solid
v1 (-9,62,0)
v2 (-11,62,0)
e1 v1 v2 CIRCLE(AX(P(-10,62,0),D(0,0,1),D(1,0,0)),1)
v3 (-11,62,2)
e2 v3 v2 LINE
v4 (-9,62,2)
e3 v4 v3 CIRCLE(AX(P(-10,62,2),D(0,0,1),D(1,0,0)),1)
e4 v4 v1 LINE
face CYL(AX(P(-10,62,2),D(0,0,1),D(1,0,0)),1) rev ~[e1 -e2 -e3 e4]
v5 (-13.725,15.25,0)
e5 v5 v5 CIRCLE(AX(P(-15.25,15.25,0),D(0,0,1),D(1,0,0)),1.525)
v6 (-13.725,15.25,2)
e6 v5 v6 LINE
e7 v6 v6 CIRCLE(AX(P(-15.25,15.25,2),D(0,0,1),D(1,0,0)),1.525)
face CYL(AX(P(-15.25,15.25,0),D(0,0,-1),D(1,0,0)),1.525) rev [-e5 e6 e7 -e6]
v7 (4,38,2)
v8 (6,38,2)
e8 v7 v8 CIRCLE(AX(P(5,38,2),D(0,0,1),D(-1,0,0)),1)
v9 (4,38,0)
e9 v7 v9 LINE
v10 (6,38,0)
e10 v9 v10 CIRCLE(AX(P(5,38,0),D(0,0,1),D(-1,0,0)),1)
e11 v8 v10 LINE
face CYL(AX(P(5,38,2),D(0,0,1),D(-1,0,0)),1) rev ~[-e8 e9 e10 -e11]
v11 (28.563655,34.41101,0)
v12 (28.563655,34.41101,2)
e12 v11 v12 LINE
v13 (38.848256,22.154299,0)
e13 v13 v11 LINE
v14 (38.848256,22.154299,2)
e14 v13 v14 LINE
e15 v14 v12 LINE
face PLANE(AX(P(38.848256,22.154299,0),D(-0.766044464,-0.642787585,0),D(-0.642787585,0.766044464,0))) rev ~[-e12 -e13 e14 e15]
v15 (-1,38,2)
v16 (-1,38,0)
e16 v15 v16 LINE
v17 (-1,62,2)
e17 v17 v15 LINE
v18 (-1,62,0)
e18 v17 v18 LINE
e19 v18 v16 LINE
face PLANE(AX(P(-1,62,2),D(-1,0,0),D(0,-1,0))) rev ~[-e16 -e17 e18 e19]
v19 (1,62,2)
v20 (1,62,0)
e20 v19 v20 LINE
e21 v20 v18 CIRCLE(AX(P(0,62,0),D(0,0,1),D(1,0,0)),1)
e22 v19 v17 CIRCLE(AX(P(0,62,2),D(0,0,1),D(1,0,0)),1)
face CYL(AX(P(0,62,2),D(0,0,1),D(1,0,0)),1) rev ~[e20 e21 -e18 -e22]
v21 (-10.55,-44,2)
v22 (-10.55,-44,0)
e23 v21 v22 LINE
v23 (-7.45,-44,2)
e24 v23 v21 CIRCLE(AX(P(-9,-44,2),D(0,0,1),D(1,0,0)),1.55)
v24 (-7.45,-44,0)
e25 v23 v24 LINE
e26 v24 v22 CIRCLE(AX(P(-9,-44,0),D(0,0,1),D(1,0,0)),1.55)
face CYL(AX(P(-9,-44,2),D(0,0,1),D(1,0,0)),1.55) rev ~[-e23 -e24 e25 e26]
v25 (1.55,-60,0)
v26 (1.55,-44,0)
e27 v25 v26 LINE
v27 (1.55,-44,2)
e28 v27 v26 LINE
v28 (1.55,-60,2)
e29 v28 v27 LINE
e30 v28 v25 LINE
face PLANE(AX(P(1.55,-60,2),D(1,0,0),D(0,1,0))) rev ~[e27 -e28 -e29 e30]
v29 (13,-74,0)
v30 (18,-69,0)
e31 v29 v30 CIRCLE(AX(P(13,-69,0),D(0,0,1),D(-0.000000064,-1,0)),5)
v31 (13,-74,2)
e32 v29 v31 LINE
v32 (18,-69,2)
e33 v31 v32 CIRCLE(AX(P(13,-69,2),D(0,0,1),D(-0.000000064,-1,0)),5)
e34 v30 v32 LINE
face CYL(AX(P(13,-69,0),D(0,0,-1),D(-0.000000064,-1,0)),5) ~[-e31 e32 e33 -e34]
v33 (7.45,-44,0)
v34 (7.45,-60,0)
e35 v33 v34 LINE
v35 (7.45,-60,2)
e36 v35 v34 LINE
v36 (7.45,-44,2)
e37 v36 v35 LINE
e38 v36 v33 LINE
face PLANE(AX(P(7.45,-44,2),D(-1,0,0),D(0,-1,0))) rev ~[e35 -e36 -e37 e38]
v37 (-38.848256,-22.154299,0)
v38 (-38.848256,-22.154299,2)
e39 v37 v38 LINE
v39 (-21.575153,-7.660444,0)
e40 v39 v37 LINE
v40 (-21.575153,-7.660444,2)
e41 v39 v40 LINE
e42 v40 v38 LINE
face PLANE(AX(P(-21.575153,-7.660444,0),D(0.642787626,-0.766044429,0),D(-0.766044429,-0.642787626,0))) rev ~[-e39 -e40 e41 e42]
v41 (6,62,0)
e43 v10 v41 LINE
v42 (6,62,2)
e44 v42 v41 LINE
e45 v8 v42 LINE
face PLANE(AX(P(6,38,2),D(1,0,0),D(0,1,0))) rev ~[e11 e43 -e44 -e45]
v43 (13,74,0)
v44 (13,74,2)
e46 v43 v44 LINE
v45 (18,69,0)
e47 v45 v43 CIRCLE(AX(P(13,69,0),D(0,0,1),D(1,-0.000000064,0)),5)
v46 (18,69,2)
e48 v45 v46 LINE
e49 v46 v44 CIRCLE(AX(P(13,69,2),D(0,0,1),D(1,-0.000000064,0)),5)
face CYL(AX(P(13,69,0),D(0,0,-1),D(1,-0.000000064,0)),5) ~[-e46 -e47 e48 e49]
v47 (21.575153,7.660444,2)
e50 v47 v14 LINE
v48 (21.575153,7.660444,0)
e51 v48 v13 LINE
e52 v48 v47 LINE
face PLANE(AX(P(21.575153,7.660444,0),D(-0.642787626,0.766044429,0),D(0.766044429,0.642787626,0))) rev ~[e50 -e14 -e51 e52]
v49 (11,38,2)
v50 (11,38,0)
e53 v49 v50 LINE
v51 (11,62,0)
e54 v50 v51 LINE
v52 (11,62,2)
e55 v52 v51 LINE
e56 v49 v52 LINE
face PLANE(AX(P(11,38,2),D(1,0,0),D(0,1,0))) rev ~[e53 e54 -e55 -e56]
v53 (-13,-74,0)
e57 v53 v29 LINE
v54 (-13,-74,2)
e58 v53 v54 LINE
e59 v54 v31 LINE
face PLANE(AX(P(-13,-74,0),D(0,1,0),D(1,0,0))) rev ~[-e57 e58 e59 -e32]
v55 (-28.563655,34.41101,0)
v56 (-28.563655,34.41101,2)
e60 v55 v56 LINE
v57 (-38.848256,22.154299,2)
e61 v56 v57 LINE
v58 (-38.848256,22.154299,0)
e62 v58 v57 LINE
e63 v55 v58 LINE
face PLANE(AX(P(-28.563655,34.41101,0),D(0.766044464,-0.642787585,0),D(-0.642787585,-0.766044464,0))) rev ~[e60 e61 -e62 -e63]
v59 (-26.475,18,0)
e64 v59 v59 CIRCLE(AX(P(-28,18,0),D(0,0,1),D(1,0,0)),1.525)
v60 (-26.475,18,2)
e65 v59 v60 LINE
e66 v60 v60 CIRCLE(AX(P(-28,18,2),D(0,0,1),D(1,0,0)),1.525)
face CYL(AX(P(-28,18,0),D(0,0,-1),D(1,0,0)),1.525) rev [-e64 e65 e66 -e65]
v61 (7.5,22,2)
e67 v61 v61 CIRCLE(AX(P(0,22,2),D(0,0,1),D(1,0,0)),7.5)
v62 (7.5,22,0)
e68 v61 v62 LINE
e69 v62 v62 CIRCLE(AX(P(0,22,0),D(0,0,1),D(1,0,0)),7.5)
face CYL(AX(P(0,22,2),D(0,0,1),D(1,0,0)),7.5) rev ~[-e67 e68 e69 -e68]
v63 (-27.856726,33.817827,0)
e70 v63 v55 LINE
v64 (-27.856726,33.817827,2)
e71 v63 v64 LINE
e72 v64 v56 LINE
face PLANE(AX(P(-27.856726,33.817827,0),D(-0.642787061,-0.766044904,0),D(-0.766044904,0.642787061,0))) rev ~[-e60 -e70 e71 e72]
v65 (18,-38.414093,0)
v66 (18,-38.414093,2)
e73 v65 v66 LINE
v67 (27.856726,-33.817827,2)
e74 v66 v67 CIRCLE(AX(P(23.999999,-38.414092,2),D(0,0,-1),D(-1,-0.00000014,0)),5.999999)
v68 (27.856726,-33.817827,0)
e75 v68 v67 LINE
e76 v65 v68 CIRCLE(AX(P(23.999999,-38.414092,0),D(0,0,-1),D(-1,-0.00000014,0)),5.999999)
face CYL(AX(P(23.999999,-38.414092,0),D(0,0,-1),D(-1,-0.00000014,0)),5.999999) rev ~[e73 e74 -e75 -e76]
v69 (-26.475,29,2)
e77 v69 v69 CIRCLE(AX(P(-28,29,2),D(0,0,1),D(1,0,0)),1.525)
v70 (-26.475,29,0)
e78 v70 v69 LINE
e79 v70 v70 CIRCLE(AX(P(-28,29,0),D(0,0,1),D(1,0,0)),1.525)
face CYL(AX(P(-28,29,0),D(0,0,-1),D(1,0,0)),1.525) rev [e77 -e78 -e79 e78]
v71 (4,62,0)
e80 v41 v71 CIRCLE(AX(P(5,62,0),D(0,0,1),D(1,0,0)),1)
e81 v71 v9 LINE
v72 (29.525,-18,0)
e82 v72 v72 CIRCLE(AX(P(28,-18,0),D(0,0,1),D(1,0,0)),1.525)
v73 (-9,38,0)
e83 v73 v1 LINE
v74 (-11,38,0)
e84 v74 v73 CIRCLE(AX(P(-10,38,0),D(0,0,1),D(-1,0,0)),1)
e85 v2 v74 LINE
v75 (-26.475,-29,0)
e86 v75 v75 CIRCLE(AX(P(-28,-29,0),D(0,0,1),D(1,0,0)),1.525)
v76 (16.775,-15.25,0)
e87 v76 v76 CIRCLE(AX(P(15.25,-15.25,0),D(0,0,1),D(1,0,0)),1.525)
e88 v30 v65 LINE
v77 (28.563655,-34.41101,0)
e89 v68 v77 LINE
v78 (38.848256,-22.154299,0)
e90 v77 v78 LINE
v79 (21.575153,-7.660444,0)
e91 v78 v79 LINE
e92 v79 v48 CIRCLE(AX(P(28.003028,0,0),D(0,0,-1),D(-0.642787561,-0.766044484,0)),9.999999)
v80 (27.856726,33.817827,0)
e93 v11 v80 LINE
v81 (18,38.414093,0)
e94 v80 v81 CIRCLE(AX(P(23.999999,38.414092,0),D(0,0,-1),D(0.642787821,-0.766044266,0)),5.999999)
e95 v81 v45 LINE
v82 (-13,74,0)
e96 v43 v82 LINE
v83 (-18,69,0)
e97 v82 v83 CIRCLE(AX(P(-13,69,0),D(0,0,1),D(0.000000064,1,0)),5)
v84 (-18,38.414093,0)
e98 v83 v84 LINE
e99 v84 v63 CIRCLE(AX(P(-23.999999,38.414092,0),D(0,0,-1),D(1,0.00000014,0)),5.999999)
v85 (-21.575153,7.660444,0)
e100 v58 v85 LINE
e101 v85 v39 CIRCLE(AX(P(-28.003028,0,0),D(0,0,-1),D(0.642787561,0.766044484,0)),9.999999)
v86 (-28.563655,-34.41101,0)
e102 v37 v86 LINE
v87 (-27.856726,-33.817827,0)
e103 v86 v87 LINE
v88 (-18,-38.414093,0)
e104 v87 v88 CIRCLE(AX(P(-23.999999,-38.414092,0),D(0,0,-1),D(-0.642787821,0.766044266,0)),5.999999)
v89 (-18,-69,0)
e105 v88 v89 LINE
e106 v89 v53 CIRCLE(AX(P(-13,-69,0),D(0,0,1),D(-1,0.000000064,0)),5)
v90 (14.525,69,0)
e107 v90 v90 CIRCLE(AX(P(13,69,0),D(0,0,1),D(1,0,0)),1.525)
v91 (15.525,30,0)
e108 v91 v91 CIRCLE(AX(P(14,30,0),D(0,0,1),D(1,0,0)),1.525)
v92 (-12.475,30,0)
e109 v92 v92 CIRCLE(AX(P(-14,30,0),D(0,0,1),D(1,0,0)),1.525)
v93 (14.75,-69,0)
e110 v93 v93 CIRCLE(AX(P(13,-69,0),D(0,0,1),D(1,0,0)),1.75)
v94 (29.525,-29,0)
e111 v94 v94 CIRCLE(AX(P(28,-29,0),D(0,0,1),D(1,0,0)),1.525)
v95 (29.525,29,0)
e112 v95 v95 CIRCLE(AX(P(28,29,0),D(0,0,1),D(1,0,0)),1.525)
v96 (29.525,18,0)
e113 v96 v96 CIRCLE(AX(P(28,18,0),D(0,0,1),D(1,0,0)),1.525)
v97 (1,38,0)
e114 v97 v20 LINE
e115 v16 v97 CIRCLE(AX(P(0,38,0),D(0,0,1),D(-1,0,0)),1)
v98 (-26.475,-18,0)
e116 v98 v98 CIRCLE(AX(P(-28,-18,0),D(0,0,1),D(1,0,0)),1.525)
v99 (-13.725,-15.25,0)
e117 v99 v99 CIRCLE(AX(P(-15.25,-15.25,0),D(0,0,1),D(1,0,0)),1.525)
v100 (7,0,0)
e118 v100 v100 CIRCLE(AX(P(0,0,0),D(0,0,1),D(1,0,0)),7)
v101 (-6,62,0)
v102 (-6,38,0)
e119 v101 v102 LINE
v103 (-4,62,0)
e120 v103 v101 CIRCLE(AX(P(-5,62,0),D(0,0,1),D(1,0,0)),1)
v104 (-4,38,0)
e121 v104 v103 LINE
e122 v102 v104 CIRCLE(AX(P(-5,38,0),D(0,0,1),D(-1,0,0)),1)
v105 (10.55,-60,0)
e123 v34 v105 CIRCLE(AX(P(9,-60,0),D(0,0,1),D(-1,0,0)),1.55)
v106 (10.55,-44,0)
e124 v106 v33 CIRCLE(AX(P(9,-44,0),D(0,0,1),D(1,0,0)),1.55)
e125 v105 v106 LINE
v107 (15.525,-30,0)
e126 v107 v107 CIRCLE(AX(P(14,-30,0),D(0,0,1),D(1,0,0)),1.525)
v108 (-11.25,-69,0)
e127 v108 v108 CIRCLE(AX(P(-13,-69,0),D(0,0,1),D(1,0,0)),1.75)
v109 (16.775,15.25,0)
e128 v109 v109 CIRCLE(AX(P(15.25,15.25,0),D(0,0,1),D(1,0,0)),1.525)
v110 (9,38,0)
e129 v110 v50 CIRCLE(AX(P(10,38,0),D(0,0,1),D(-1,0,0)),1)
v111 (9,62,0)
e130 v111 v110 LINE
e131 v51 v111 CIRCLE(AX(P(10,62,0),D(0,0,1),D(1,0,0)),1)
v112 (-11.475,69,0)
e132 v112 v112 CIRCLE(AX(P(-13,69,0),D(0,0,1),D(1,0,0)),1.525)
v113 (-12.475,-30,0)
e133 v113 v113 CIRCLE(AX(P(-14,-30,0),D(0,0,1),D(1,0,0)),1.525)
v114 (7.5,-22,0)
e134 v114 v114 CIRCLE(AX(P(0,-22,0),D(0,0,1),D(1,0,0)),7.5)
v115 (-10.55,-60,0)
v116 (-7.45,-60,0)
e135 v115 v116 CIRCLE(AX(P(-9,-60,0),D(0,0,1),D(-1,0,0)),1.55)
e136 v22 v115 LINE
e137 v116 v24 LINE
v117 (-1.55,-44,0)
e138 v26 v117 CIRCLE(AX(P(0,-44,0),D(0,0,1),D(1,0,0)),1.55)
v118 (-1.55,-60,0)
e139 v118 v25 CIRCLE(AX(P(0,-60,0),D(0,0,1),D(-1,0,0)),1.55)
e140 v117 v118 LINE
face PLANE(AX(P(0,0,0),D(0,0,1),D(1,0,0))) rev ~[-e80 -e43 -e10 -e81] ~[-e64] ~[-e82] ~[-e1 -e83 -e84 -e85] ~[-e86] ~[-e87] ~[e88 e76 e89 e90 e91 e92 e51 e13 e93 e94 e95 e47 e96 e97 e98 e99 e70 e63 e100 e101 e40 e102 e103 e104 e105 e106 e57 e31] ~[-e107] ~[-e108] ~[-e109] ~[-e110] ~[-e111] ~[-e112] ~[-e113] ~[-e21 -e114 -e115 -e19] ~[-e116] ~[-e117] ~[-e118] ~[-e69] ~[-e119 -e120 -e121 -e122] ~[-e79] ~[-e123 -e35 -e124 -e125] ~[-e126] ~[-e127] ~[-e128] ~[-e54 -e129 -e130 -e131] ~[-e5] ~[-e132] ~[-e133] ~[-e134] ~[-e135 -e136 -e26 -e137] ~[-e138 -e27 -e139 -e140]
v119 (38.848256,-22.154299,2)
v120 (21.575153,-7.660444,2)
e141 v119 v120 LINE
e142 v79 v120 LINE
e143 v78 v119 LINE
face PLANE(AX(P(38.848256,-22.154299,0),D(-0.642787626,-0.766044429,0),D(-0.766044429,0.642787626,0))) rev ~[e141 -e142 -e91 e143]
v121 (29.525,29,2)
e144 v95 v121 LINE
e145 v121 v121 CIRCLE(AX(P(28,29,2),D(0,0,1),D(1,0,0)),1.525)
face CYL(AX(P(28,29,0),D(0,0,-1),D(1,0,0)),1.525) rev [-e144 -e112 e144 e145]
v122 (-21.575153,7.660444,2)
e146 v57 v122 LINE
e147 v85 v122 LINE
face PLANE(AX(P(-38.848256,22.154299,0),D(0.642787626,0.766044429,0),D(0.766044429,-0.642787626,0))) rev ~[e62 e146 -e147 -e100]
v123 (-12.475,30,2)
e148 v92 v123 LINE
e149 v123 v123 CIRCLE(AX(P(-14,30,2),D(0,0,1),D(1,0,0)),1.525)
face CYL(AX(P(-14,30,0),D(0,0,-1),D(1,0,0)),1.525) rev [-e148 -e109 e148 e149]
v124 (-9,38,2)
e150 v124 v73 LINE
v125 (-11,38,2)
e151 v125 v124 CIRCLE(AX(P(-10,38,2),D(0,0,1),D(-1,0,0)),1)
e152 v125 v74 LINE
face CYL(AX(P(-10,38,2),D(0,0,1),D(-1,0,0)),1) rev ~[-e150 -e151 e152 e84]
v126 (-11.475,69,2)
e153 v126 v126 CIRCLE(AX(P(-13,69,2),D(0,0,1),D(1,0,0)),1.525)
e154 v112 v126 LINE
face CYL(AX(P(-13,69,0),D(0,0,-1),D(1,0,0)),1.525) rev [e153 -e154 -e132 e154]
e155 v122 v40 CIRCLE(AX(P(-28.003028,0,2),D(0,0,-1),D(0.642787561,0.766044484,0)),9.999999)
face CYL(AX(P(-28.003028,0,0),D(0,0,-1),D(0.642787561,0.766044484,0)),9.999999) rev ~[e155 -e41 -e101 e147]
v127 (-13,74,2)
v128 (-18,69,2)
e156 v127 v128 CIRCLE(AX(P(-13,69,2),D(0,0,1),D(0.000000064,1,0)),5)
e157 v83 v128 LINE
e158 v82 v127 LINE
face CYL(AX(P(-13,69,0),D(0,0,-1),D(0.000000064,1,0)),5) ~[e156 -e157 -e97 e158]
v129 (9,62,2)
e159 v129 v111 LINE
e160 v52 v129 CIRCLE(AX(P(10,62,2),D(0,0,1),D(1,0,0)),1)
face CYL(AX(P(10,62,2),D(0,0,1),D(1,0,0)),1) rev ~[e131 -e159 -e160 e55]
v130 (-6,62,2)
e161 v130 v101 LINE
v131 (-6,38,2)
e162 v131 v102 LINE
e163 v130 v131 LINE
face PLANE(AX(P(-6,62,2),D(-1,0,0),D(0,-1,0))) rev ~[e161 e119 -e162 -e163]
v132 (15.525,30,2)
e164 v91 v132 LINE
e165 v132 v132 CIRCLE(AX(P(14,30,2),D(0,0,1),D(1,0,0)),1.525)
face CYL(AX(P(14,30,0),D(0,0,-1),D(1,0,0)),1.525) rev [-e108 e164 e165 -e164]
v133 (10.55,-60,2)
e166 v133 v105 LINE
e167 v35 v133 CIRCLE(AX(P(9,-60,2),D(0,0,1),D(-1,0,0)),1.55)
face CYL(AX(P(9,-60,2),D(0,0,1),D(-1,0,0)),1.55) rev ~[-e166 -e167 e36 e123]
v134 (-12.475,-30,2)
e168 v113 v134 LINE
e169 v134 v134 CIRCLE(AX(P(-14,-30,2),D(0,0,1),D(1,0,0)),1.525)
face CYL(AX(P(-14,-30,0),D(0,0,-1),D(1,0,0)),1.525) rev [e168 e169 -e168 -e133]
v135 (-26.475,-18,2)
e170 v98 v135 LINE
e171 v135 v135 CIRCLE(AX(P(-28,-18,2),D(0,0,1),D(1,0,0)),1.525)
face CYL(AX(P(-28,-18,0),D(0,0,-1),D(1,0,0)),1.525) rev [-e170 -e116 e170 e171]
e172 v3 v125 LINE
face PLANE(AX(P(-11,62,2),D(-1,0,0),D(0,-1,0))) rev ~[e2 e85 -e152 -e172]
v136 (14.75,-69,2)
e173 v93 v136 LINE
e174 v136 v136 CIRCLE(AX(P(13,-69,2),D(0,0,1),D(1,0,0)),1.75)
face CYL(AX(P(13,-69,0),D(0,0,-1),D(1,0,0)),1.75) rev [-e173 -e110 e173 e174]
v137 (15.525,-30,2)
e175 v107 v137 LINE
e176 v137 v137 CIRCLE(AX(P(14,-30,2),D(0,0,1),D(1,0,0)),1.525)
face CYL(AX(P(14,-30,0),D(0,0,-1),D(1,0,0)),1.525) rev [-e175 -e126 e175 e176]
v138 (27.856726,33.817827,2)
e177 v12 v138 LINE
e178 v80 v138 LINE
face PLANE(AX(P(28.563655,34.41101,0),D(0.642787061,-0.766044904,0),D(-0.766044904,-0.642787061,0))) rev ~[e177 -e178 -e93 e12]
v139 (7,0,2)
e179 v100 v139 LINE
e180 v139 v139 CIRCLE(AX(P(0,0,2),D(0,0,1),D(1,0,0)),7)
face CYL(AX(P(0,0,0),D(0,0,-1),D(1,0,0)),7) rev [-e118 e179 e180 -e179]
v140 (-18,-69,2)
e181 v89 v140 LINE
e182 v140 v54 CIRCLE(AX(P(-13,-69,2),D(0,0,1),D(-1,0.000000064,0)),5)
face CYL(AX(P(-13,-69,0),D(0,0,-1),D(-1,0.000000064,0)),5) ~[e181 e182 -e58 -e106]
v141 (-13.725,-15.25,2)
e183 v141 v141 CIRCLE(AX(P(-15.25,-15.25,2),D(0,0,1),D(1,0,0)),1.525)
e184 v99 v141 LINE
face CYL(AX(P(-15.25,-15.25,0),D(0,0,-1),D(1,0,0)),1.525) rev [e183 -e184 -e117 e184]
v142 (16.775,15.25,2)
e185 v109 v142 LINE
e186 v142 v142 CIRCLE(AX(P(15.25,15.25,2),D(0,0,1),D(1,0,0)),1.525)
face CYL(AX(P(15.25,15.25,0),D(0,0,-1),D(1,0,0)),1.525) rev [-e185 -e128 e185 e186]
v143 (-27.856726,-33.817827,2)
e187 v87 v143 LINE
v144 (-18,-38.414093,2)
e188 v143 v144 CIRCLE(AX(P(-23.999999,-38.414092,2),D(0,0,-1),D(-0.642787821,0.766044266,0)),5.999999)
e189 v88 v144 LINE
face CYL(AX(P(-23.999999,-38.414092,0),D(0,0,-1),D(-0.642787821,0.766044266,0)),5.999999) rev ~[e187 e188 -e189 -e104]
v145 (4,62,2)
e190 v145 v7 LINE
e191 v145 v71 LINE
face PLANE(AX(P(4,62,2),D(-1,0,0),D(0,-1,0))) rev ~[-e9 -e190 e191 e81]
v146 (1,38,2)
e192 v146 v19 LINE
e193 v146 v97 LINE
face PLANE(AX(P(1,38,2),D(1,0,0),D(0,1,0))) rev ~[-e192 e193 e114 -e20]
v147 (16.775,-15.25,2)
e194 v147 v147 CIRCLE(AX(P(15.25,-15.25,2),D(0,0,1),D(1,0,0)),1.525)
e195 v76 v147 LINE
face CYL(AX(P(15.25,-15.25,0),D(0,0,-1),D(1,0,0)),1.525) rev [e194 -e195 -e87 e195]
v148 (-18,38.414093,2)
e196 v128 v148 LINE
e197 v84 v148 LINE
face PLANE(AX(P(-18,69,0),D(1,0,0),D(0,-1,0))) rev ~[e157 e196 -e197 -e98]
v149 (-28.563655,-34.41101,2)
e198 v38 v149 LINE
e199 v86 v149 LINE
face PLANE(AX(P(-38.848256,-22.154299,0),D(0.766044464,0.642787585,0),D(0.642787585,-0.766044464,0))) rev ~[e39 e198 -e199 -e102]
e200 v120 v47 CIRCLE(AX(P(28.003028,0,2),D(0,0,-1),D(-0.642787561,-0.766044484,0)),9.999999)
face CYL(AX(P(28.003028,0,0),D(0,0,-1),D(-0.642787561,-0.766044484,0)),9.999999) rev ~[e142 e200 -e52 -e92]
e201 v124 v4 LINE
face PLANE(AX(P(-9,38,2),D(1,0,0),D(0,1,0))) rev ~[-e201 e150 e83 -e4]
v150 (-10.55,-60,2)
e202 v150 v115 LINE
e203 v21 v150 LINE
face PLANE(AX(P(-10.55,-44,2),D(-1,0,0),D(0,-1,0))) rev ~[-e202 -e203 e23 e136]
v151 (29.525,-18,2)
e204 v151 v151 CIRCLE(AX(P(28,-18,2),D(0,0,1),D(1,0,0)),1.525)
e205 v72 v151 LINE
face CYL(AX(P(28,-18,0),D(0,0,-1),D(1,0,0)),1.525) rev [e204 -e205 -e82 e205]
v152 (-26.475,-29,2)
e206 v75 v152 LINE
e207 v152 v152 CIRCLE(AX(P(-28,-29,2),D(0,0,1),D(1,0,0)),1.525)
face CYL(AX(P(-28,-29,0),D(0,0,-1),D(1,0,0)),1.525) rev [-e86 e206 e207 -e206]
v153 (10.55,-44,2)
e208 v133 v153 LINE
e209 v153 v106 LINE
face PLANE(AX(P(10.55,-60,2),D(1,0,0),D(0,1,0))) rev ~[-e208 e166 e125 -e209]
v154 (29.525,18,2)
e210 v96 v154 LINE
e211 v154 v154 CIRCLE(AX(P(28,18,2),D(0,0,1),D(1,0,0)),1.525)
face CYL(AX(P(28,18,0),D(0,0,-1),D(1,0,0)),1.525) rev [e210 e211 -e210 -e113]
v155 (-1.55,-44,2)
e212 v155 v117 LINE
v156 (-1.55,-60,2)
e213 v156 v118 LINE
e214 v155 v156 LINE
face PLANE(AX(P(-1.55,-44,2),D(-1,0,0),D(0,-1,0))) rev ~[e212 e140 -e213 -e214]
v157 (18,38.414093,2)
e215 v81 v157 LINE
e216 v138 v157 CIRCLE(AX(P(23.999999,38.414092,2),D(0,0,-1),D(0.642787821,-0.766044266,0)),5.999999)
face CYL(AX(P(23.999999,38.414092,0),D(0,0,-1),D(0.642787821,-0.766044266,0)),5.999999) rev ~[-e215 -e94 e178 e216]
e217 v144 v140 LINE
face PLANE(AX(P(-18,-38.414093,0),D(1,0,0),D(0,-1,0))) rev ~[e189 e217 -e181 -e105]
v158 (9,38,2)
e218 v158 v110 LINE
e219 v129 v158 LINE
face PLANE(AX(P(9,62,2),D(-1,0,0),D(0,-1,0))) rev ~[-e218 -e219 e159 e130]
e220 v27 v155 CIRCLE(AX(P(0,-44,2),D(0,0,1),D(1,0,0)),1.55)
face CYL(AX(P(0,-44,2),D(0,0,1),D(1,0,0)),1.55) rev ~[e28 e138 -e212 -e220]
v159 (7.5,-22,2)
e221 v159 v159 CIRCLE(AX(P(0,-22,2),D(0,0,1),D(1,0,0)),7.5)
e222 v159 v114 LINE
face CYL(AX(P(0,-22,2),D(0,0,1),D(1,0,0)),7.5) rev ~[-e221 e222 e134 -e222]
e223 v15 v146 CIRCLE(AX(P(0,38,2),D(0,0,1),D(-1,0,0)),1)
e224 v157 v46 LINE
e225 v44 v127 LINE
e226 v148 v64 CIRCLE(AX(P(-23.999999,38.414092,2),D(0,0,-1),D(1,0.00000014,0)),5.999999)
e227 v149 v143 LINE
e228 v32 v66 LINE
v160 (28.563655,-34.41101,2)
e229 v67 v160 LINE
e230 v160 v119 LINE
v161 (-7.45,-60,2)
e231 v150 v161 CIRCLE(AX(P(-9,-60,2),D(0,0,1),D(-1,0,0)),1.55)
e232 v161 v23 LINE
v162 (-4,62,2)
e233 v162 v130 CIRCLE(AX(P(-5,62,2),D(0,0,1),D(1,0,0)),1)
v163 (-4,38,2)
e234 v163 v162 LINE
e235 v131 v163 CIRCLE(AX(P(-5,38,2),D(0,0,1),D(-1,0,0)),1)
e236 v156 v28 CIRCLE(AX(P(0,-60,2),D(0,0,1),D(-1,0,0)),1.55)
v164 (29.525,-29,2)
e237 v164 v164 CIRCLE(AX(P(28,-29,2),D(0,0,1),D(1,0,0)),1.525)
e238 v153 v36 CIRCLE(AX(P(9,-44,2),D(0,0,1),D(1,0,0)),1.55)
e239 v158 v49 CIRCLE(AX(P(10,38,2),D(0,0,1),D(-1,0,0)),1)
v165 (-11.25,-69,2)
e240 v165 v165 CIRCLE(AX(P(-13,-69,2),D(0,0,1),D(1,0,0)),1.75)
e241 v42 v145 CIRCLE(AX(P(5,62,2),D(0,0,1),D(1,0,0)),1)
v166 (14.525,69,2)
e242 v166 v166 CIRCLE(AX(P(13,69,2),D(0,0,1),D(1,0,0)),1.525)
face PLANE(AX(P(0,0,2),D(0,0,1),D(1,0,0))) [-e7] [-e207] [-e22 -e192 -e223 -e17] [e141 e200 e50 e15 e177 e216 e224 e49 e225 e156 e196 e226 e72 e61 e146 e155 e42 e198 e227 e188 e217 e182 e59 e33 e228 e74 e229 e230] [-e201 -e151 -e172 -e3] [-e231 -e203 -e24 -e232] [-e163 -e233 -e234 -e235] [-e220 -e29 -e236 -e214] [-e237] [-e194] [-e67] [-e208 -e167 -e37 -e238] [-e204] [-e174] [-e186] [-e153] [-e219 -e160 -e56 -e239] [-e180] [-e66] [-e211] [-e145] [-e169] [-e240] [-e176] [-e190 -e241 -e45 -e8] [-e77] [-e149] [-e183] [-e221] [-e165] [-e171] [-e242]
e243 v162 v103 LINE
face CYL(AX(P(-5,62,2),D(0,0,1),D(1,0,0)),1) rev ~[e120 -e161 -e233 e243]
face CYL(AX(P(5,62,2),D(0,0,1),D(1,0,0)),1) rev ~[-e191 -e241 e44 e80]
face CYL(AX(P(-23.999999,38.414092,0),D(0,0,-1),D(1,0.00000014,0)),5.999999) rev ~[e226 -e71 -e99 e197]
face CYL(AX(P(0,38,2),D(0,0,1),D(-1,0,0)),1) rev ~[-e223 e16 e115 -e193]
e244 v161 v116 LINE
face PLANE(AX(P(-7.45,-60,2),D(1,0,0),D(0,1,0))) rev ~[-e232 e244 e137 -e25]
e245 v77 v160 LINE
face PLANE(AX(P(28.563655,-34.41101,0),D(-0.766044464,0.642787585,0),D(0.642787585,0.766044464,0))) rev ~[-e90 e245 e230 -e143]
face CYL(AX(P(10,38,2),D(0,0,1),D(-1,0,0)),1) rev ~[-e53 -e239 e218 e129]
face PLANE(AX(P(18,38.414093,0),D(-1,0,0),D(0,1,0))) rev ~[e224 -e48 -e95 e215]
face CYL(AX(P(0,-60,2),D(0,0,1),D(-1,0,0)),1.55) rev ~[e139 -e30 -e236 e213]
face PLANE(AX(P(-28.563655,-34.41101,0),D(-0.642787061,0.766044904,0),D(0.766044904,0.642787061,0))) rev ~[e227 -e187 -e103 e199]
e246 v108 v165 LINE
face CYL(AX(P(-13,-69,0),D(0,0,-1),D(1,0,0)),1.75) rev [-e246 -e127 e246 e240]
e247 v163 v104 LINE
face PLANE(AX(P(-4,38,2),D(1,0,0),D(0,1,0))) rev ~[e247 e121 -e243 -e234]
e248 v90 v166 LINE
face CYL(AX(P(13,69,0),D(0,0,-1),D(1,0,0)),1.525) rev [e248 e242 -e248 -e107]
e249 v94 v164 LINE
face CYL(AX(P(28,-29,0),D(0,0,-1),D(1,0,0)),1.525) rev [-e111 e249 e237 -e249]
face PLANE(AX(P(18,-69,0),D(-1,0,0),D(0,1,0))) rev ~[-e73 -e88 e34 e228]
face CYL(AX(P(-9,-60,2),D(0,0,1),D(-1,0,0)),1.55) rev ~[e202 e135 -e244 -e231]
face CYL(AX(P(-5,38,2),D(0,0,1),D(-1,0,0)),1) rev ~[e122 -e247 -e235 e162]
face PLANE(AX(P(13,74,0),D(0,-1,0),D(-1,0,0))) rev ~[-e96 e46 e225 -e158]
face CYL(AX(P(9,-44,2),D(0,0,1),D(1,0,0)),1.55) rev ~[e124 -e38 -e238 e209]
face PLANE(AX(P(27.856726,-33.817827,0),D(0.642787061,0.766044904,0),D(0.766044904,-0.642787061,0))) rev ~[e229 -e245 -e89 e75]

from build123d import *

# Parameters (mm, degrees)
F0_R     = 1.75
F0_R_2   = 1.525
F0_R_3   = 7
F1_DEPTH = 2
F2_R     = 7.5
F3_DEPTH = 25


with BuildPart() as f1:
    # F0 (on Top) → F1 (new body)
    with BuildSketch(Plane.XY):
        with BuildLine():
            Line((-27.856726, 33.817827), (-28.563655, 34.41101))
            Line((-28.563655, 34.41101), (-38.848256, 22.154299))
            Line((-38.848256, 22.154299), (-21.575153, 7.660444))
            ThreePointArc((-21.575153, 7.660444), (-18.003029, 0), (-21.575153, -7.660444))
            Line((-21.575153, -7.660444), (-38.848256, -22.154299))
            Line((-38.848256, -22.154299), (-28.563655, -34.41101))
            Line((-28.563655, -34.41101), (-27.856726, -33.817827))
            ThreePointArc((-27.856726, -33.817827), (-21.46429, -32.976246), (-18, -38.414093))
            Line((-18, -38.414093), (-18, -69))
            ThreePointArc((-18, -69), (-16.535534, -72.535534), (-13, -74))
            Line((-13, -74), (0, -74))
            Line((0, -74), (13, -74))
            ThreePointArc((13, -74), (16.535534, -72.535534), (18, -69))
            Line((18, -69), (18, -38.414093))
            ThreePointArc((18, -38.414093), (21.46429, -32.976246), (27.856726, -33.817827))
            Line((27.856726, -33.817827), (28.563655, -34.41101))
            Line((28.563655, -34.41101), (38.848256, -22.154299))
            Line((38.848256, -22.154299), (21.575153, -7.660444))
            ThreePointArc((21.575153, -7.660444), (18.003029, 0), (21.575153, 7.660444))
            Line((21.575153, 7.660444), (38.848256, 22.154299))
            Line((38.848256, 22.154299), (28.563655, 34.41101))
            Line((28.563655, 34.41101), (27.856726, 33.817827))
            ThreePointArc((27.856726, 33.817827), (21.46429, 32.976246), (18, 38.414093))
            Line((18, 38.414093), (18, 69))
            ThreePointArc((18, 69), (16.535534, 72.535534), (13, 74))
            Line((13, 74), (0, 74))
            Line((0, 74), (-13, 74))
            ThreePointArc((-13, 74), (-16.535534, 72.535534), (-18, 69))
            Line((-18, 69), (-18, 38.414093))
            ThreePointArc((-18, 38.414093), (-21.46429, 32.976246), (-27.856726, 33.817827))
        make_face()
        with Locations((-13, -69)):
            Circle(F0_R, mode=Mode.SUBTRACT)
        with Locations((-28, -29)):
            Circle(F0_R_2, mode=Mode.SUBTRACT)
        with Locations((-28, -18)):
            Circle(F0_R_2, mode=Mode.SUBTRACT)
        with Locations((-14, -30)):
            Circle(F0_R_2, mode=Mode.SUBTRACT)
        with Locations((-15.25, -15.25)):
            Circle(F0_R_2, mode=Mode.SUBTRACT)
        with Locations((13, -69)):
            Circle(F0_R, mode=Mode.SUBTRACT)
        with Locations((14, -30)):
            Circle(F0_R_2, mode=Mode.SUBTRACT)
        with Locations((15.25, -15.25)):
            Circle(F0_R_2, mode=Mode.SUBTRACT)
        with Locations((28, -29)):
            Circle(F0_R_2, mode=Mode.SUBTRACT)
        with Locations((28, -18)):
            Circle(F0_R_2, mode=Mode.SUBTRACT)
        with Locations((-28, 18)):
            Circle(F0_R_2, mode=Mode.SUBTRACT)
        with Locations((-28, 29)):
            Circle(F0_R_2, mode=Mode.SUBTRACT)
        with Locations((-15.25, 15.25)):
            Circle(F0_R_2, mode=Mode.SUBTRACT)
        with Locations((-14, 30)):
            Circle(F0_R_2, mode=Mode.SUBTRACT)
        with Locations((-13, 69)):
            Circle(F0_R_2, mode=Mode.SUBTRACT)
        Circle(F0_R_3, mode=Mode.SUBTRACT)
        with Locations((15.25, 15.25)):
            Circle(F0_R_2, mode=Mode.SUBTRACT)
        with Locations((14, 30)):
            Circle(F0_R_2, mode=Mode.SUBTRACT)
        with Locations((28, 18)):
            Circle(F0_R_2, mode=Mode.SUBTRACT)
        with Locations((28, 29)):
            Circle(F0_R_2, mode=Mode.SUBTRACT)
        with Locations((13, 69)):
            Circle(F0_R_2, mode=Mode.SUBTRACT)
    extrude(amount=F1_DEPTH)

    # F2 (on face) → F3 (cut)
    with BuildSketch(Plane.XY.offset(2)):
        with Locations((0, -22)):
            Circle(F2_R)
        with Locations((0, 22)):
            Circle(F2_R)
        with BuildLine():
            ThreePointArc((-7.45, -44), (-9, -42.45), (-10.55, -44))
            Line((-10.55, -44), (-10.55, -60))
            ThreePointArc((-10.55, -60), (-9, -61.55), (-7.45, -60))
            Line((-7.45, -60), (-7.45, -44))
        make_face()
        with BuildLine():
            ThreePointArc((1.55, -44), (0, -42.45), (-1.55, -44))
            Line((-1.55, -44), (-1.55, -60))
            ThreePointArc((-1.55, -60), (0, -61.55), (1.55, -60))
            Line((1.55, -60), (1.55, -44))
        make_face()
        with BuildLine():
            ThreePointArc((10.55, -44), (9, -42.45), (7.45, -44))
            Line((7.45, -44), (7.45, -60))
            ThreePointArc((7.45, -60), (9, -61.55), (10.55, -60))
            Line((10.55, -60), (10.55, -44))
        make_face()
        with BuildLine():
            ThreePointArc((-9, 62), (-10, 63), (-11, 62))
            Line((-11, 62), (-11, 38))
            ThreePointArc((-11, 38), (-10, 37), (-9, 38))
            Line((-9, 38), (-9, 62))
        make_face()
        with BuildLine():
            ThreePointArc((-4, 62), (-5, 63), (-6, 62))
            Line((-6, 62), (-6, 38))
            ThreePointArc((-6, 38), (-5, 37), (-4, 38))
            Line((-4, 38), (-4, 62))
        make_face()
        with BuildLine():
            ThreePointArc((1, 62), (0, 63), (-1, 62))
            Line((-1, 62), (-1, 38))
            ThreePointArc((-1, 38), (0, 37), (1, 38))
            Line((1, 38), (1, 62))
        make_face()
        with BuildLine():
            ThreePointArc((6, 62), (5, 63), (4, 62))
            Line((4, 62), (4, 38))
            ThreePointArc((4, 38), (5, 37), (6, 38))
            Line((6, 38), (6, 62))
        make_face()
        with BuildLine():
            ThreePointArc((11, 62), (10, 63), (9, 62))
            Line((9, 62), (9, 38))
            ThreePointArc((9, 38), (10, 37), (11, 38))
            Line((11, 38), (11, 62))
        make_face()
    extrude(amount=-F3_DEPTH, mode=Mode.SUBTRACT)


solid = f1.part
